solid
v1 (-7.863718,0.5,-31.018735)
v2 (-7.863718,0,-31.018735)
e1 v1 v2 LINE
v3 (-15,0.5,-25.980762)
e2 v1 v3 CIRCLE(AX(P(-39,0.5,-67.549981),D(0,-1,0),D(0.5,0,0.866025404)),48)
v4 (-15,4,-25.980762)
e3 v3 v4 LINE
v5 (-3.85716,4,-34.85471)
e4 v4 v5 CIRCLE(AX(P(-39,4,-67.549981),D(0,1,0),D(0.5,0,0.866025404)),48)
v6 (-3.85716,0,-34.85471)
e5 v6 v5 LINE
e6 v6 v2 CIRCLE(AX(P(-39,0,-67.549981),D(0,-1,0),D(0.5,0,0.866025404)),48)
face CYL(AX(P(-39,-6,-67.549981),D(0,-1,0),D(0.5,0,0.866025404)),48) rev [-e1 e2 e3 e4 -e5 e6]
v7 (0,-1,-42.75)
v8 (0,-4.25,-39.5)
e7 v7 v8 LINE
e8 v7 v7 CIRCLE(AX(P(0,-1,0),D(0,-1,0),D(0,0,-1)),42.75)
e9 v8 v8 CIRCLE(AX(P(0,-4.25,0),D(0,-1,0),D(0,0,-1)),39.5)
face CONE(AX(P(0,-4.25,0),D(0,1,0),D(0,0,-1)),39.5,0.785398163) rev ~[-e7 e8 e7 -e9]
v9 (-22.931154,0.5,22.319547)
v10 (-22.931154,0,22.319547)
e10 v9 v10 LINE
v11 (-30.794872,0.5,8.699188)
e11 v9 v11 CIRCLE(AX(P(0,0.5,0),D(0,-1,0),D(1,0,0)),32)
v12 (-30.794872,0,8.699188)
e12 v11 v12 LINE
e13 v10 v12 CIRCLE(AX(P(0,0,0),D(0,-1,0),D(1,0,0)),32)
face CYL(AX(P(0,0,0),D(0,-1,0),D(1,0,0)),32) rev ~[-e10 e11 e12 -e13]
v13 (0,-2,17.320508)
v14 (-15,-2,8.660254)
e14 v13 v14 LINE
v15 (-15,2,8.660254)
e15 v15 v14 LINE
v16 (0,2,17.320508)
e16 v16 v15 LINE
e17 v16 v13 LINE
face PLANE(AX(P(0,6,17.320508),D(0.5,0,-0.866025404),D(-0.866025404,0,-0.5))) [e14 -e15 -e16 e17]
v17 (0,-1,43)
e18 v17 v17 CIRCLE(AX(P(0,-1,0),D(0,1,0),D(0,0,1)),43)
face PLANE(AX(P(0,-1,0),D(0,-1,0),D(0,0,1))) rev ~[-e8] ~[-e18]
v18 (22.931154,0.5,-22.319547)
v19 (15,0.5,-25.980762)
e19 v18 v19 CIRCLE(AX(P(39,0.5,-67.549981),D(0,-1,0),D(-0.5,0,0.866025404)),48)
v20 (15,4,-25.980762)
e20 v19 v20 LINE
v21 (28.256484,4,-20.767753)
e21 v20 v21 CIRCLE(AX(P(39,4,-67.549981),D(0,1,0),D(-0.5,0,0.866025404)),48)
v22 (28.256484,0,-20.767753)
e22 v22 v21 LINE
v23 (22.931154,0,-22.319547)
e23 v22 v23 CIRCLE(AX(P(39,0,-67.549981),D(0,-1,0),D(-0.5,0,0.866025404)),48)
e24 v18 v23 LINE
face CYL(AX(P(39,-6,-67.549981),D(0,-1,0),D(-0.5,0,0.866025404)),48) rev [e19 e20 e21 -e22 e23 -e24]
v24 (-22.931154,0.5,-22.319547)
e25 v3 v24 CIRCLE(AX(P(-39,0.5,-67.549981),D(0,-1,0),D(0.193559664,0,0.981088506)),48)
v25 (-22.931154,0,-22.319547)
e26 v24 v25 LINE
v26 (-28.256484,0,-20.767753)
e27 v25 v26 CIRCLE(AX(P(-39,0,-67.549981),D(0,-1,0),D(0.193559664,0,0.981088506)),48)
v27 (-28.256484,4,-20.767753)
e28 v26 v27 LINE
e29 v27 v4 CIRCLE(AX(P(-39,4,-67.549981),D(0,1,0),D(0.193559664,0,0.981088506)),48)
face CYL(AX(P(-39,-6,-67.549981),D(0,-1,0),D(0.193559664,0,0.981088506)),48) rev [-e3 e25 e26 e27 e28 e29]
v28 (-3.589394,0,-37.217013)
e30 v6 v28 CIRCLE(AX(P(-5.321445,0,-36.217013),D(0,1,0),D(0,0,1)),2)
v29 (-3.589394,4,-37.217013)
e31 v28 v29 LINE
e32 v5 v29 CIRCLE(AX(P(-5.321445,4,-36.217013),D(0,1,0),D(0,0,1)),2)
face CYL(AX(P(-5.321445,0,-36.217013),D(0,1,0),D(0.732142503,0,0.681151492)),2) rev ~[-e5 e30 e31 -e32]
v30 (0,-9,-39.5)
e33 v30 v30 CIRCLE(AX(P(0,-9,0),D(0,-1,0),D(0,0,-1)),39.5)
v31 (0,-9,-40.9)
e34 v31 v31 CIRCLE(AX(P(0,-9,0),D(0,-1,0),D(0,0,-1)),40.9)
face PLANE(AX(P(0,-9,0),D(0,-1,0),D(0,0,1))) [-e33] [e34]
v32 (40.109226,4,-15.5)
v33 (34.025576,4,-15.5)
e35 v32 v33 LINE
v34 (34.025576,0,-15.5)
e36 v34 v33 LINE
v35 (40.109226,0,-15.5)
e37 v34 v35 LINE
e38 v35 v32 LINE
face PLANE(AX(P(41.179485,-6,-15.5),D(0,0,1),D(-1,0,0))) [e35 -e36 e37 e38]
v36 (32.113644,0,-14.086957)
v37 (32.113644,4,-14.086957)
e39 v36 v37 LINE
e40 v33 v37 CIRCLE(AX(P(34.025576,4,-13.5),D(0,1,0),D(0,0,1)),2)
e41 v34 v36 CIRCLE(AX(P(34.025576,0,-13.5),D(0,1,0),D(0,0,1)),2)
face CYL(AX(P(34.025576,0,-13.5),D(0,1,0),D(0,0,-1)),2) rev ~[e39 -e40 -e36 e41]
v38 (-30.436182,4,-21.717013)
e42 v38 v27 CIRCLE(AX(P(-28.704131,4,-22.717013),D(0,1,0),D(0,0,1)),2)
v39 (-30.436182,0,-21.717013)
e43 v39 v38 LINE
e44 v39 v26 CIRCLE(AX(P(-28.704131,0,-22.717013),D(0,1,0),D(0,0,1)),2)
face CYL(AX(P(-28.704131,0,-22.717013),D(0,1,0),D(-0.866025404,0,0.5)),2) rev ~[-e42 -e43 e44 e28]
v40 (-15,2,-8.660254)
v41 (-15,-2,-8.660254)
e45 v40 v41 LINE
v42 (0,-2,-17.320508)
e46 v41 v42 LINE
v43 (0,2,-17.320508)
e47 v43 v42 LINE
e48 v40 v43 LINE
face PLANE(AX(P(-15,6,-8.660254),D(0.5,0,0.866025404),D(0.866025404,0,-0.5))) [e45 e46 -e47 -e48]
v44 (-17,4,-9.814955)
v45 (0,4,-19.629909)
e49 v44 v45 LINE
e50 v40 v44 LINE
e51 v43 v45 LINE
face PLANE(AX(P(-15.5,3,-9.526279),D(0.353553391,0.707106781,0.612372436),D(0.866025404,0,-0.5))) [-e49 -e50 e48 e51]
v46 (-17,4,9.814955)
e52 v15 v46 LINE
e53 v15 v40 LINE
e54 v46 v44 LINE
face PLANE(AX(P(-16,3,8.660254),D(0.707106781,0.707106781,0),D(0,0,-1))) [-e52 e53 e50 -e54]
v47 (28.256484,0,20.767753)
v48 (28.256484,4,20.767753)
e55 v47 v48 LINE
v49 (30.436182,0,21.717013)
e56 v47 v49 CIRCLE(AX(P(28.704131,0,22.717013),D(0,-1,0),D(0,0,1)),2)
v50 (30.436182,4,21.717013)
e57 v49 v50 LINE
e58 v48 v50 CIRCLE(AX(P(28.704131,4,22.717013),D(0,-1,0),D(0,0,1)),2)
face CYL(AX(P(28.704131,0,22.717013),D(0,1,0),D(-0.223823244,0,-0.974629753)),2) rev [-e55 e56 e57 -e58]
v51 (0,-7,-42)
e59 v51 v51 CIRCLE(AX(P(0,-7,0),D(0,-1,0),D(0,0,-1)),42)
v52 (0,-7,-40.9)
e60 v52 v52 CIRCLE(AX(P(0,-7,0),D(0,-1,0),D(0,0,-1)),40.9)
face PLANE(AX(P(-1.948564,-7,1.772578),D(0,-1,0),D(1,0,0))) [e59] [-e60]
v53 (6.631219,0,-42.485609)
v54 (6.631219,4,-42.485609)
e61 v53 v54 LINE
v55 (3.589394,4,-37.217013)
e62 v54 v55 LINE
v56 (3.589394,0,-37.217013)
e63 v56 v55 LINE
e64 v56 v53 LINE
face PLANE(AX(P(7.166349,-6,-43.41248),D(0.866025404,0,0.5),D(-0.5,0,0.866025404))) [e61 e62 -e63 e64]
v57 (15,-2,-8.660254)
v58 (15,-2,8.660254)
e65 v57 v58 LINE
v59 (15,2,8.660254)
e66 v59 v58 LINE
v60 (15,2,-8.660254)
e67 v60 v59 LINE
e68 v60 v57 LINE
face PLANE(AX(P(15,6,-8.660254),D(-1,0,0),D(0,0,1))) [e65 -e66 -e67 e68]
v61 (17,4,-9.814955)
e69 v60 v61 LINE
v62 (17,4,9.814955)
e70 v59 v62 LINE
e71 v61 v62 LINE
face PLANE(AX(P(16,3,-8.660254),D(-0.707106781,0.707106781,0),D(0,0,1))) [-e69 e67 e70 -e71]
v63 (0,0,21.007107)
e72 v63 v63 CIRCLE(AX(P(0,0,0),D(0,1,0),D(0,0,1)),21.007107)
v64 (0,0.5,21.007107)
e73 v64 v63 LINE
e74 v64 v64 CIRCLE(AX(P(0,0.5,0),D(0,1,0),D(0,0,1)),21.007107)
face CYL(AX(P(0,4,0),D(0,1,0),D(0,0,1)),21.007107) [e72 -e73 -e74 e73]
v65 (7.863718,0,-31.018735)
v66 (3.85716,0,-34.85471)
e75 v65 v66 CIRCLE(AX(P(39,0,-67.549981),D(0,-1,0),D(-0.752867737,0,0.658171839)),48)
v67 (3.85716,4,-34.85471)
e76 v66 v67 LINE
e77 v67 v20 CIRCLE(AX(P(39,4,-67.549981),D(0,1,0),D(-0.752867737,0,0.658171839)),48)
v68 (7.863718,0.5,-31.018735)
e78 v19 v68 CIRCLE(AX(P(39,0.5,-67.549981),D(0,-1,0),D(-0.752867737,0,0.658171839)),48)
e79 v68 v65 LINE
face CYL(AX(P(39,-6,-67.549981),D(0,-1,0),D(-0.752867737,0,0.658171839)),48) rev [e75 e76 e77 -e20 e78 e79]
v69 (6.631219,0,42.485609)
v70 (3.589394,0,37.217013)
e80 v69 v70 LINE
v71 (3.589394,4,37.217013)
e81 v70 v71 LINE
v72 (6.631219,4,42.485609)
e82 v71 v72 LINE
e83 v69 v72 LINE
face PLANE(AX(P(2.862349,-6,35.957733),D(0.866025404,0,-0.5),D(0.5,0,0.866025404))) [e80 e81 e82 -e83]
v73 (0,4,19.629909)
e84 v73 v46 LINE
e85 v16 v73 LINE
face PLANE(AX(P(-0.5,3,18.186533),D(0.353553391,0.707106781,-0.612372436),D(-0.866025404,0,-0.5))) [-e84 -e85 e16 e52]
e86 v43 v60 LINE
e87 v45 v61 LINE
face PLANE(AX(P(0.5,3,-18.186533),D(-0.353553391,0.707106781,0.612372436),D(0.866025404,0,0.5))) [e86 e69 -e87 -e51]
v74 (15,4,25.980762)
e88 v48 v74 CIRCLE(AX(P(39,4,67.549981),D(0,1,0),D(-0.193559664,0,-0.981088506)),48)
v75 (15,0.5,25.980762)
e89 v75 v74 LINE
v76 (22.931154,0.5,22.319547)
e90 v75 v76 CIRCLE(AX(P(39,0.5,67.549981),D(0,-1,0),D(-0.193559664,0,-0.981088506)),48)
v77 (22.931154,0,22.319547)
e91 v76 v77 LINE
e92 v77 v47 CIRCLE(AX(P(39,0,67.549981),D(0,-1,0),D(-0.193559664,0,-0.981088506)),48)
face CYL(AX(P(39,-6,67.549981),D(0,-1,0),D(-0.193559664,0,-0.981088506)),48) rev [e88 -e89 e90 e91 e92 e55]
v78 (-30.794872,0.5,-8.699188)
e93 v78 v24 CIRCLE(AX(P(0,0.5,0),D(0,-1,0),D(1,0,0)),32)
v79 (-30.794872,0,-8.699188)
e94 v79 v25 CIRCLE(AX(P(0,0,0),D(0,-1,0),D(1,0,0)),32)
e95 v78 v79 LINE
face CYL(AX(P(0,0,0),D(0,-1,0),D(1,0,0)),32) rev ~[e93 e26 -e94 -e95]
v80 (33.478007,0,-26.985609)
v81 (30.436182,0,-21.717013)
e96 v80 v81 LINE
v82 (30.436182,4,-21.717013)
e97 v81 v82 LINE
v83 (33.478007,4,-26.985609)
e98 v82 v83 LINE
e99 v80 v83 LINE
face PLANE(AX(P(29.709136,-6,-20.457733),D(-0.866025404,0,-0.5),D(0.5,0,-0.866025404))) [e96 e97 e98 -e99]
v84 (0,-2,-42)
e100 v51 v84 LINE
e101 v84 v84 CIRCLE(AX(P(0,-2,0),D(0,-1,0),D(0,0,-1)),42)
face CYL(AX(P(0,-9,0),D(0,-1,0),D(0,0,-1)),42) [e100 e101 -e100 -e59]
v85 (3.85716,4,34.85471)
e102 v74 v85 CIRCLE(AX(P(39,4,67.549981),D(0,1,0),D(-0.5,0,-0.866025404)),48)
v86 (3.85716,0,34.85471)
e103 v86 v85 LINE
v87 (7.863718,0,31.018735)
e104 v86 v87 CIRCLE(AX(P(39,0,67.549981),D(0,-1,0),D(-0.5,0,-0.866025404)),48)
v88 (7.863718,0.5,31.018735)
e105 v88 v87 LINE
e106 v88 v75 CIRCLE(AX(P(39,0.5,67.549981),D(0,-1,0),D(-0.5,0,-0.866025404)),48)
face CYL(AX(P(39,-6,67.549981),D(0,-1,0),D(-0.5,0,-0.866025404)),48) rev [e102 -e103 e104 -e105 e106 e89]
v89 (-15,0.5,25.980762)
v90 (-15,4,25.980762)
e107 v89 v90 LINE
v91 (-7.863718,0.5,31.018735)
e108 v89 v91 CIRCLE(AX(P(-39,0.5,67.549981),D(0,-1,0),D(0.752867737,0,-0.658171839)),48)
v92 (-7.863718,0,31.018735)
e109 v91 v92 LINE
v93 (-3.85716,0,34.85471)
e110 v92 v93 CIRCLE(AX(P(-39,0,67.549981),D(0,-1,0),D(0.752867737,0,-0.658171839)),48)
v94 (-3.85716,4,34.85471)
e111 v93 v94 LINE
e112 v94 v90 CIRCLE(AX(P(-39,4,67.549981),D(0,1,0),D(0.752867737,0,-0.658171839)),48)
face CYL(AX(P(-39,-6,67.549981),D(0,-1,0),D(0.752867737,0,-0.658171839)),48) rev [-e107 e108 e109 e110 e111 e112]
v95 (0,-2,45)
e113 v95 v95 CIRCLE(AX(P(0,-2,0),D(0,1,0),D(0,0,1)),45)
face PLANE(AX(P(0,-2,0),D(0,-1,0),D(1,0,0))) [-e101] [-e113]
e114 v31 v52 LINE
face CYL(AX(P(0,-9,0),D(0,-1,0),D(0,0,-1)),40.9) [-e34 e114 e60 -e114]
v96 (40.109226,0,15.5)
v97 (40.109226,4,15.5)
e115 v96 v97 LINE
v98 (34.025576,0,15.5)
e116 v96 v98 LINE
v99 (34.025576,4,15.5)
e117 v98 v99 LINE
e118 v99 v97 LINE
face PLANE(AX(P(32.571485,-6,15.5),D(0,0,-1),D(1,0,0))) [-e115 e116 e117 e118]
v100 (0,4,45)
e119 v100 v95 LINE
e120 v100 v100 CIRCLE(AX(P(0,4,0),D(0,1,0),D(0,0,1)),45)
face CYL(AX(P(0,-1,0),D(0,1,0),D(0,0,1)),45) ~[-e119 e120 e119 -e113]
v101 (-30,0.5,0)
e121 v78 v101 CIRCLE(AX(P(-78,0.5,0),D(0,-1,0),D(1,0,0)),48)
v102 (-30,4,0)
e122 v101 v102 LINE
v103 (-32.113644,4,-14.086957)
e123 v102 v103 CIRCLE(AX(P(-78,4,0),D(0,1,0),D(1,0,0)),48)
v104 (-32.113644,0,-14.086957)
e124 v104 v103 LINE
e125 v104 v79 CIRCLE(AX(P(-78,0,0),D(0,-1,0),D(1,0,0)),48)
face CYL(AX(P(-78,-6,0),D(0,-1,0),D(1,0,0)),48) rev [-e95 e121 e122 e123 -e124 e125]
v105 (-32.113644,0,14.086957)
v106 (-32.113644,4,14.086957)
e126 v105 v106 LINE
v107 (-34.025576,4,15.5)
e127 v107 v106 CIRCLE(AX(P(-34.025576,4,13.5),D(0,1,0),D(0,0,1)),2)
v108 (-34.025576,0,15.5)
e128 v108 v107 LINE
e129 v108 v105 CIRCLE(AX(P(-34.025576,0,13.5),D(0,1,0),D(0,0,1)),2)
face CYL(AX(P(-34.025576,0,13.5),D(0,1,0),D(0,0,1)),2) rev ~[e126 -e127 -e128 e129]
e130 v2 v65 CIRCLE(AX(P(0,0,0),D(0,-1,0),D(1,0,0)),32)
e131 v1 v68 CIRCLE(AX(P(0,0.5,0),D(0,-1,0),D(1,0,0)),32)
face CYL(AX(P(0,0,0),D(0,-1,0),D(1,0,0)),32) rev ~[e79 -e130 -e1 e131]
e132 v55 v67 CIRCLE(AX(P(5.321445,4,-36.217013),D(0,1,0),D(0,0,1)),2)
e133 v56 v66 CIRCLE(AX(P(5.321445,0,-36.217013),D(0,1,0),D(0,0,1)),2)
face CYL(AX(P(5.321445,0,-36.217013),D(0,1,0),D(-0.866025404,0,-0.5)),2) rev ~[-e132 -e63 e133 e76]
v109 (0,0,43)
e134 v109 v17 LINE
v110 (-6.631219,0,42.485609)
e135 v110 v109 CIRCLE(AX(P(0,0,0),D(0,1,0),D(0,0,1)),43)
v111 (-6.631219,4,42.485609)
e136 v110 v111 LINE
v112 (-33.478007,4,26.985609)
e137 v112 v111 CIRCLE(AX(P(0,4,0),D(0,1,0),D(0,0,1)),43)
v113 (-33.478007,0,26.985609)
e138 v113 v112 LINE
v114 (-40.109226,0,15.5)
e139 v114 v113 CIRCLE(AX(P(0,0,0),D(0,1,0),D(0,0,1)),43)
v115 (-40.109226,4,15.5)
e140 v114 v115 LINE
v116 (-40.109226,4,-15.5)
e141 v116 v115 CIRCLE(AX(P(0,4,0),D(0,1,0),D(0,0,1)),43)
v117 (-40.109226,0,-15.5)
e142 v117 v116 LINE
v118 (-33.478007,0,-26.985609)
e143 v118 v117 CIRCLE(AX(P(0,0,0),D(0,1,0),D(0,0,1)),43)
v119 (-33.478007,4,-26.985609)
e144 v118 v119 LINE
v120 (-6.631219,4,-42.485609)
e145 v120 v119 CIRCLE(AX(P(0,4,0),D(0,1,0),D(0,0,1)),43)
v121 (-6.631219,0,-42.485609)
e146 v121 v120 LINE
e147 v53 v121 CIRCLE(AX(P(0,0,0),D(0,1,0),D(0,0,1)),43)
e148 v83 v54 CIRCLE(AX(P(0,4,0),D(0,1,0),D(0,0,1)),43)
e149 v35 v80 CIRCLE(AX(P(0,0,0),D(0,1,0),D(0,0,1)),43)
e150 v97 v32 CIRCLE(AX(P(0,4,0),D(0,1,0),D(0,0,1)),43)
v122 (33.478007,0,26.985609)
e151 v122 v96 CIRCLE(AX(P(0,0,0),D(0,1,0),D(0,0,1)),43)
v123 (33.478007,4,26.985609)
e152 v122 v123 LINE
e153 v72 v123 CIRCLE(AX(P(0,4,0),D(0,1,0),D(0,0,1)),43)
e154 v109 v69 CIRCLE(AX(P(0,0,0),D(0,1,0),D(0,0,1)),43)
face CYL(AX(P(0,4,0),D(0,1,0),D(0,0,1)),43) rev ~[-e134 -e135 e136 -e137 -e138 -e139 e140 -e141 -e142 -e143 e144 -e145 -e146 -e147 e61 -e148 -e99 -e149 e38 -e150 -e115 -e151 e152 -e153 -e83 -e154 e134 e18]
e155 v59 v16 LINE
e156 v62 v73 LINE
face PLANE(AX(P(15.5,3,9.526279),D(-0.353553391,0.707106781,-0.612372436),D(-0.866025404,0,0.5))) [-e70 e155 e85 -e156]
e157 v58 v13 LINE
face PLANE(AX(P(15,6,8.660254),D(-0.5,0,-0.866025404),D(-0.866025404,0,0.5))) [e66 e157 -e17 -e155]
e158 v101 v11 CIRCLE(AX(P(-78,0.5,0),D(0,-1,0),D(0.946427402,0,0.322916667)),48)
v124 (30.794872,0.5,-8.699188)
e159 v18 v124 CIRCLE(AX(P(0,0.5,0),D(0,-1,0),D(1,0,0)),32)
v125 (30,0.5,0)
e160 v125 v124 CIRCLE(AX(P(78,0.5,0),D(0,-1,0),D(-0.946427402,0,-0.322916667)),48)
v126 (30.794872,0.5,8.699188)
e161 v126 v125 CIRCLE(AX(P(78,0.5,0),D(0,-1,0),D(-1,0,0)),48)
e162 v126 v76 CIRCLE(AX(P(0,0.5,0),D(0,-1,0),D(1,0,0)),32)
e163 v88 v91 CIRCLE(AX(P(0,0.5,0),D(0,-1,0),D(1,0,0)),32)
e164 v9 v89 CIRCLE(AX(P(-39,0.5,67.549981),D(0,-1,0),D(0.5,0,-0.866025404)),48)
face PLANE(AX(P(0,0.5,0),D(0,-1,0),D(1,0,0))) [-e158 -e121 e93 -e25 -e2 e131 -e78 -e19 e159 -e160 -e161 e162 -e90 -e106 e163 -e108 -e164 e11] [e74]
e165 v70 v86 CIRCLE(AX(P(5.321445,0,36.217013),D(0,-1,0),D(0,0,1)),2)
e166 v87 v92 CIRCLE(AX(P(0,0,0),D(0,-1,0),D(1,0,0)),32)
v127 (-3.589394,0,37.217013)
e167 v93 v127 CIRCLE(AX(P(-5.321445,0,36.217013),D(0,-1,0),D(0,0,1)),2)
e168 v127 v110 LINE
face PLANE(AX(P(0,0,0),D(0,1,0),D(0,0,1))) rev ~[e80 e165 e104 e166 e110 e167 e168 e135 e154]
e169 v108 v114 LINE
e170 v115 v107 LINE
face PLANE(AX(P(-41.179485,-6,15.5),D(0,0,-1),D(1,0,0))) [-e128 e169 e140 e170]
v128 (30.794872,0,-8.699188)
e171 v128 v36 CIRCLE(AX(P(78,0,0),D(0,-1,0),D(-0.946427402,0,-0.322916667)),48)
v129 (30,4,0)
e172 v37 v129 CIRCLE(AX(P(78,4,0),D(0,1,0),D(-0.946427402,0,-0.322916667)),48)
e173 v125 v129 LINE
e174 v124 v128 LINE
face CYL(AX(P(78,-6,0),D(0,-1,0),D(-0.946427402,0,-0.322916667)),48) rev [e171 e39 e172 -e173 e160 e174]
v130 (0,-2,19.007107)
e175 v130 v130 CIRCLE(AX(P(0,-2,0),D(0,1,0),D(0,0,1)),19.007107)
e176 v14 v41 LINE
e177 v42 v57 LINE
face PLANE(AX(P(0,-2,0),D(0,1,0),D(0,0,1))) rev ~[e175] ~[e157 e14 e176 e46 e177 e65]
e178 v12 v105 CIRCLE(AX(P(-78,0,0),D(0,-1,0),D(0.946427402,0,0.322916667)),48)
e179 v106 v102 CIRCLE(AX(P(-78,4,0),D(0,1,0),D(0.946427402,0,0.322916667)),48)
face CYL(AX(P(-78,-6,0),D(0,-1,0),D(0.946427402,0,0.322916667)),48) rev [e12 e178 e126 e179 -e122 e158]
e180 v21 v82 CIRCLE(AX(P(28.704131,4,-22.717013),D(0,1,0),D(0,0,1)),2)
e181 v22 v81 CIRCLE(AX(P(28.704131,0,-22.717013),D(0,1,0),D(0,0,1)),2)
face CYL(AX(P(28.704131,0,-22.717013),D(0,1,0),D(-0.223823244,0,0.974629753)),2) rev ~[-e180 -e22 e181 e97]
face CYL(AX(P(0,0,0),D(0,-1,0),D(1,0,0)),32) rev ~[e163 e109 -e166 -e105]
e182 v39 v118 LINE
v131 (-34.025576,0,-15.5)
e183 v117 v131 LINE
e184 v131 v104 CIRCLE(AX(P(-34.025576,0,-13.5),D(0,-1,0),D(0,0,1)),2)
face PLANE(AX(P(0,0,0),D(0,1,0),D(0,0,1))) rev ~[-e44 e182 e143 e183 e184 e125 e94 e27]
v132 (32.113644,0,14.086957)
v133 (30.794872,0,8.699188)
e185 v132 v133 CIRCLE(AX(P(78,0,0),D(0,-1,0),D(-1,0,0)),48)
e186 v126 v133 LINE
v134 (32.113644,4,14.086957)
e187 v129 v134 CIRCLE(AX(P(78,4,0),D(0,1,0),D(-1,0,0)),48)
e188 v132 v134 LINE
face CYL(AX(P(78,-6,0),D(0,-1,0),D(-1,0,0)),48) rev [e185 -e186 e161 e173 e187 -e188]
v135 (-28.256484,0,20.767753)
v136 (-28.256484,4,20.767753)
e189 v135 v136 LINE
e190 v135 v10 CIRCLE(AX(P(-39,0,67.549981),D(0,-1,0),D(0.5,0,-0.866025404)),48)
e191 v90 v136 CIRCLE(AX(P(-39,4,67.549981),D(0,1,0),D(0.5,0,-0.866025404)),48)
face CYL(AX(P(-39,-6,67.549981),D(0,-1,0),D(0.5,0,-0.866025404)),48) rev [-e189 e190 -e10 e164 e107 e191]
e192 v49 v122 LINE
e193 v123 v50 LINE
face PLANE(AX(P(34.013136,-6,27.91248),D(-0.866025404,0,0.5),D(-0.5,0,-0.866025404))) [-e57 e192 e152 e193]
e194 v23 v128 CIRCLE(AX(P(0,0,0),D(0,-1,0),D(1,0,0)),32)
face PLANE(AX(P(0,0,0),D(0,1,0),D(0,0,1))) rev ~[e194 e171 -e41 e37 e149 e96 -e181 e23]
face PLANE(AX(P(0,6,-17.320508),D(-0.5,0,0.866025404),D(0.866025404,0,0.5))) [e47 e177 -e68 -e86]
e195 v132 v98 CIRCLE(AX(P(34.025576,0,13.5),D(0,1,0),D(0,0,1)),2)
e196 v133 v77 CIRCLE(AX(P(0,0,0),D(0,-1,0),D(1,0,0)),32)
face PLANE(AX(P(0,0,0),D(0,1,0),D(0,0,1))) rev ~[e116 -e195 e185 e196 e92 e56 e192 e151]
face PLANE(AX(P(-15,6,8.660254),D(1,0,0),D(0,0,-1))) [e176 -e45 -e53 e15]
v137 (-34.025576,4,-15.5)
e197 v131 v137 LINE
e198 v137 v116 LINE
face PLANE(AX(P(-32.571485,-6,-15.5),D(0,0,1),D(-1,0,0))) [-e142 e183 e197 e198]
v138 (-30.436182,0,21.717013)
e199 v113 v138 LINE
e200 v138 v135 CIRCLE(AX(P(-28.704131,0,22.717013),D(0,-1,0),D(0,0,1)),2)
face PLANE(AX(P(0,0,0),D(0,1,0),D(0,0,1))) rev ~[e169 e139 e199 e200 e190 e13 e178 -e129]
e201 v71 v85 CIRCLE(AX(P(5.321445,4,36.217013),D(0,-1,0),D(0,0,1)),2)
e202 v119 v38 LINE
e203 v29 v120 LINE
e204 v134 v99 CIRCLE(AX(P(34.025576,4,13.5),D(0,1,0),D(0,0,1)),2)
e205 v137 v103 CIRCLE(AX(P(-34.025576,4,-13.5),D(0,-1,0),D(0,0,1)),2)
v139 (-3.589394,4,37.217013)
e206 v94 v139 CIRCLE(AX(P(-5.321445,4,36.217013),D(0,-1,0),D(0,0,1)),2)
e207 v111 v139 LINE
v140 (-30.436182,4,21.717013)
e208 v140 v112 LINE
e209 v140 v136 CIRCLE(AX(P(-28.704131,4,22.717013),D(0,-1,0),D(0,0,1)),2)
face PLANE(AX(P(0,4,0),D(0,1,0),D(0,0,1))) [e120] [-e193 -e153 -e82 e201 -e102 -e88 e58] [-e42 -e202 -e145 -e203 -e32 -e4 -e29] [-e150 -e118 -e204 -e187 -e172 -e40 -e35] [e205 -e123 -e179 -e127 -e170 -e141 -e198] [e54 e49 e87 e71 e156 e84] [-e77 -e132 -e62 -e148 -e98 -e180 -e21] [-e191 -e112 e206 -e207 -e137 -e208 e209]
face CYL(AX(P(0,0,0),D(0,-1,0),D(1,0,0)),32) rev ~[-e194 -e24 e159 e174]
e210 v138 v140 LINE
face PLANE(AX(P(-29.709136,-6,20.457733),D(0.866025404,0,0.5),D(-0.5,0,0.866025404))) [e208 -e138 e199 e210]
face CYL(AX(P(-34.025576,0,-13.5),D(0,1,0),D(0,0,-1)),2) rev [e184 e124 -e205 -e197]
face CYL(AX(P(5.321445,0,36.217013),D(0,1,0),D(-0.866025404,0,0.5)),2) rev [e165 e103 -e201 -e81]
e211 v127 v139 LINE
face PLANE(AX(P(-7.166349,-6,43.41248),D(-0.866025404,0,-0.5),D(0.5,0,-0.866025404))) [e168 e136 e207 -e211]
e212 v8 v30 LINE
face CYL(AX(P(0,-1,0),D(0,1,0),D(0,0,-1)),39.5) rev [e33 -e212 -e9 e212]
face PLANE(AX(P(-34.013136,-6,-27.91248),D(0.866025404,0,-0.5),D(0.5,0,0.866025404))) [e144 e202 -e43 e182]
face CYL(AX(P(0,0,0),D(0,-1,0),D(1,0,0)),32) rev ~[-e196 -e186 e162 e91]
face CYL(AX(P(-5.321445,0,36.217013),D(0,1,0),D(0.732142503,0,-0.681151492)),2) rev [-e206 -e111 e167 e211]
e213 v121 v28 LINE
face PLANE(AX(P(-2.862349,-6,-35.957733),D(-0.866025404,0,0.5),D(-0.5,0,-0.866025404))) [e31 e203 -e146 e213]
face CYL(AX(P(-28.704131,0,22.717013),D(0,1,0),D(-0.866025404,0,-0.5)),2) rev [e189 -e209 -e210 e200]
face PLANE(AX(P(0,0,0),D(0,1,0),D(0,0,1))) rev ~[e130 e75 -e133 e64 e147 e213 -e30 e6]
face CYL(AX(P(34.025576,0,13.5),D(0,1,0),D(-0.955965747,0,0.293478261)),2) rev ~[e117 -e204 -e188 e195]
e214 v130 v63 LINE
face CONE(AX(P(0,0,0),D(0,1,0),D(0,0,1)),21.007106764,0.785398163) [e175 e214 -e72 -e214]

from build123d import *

# Parameters (mm, degrees)
SKIZZE1_R                             = 44
AUFSATZ_LINEAR_AUSTRAGEN1_DEPTH       = 4
SCHNITT_LINEAR_START                  = -10
SCHNITT_LINEAR_AUSTRAGEN2_DEPTH       = 10
KREISMUSTER1_COUNT                    = 6
SCHNITT_LINEAR_AUSTRAGEN3_DEPTH       = 4
SCHNITT_LINEAR_AUSTRAGEN3_DEPTH_BACK  = 10
VERRUNDUNG1_R                         = 2
SKIZZE7_R                             = 32
SCHNITT_LINEAR_AUSTRAGEN7_DEPTH       = 0.5
SKIZZE8_R                             = 45
SKIZZE8_R_2                           = 43
AUFSATZ_LINEAR_AUSTRAGEN2_DEPTH       = 5
SKIZZE9_R                             = 45
SKIZZE9_R_2                           = 39.5
AUFSATZ_LINEAR_AUSTRAGEN3_DEPTH       = 8
SKIZZE4_R                             = 21.007106764
AUFSATZ_LINEAR_AUSTRAGEN8_DEPTH       = 6
FASE1_SIZE                            = 3.25
SKIZZE10_R                            = 50
SKIZZE10_R_2                          = 42
SCHNITT_LINEAR_AUSTRAGEN9_DEPTH       = 7
SKIZZE11_R                            = 50
SKIZZE11_R_2                          = 40.9
SCHNITT_LINEAR_AUSTRAGEN10_DEPTH      = 2
SCHNITT_LINEAR_AUSTRAGEN11_DEPTH      = 6
SCHNITT_LINEAR_AUSTRAGEN11_DEPTH_BACK = 6
FASE3_SIZE                            = 2
FASE5_SIZE                            = 2


with BuildPart() as part:
    # Skizze1 → Aufsatz-Linear austragen1 (new body)
    with BuildSketch(Plane(origin=(0, 0, 0), x_dir=(1, 0, 0), z_dir=(0, 1, 0))):
        Circle(SKIZZE1_R)
    extrude(amount=AUFSATZ_LINEAR_AUSTRAGEN1_DEPTH)

    # Skizze2 → Schnitt-Linear austragen2 (cut)
    with BuildSketch(Plane(origin=(0, 4, 0), x_dir=(1, 0, 0), z_dir=(0, 1, 0)).offset(SCHNITT_LINEAR_START)):
        with BuildLine():
            ThreePointArc((-30, 0), (-30.647234858, 7.855929826), (-32.571484726, 15.5))
            Line((-32.571484726, 15.5), (-41.179485184, 15.5))
            ThreePointArc((-41.179485184, 15.5), (-44, 0), (-41.179485184, -15.5))
            Line((-41.179485184, -15.5), (-32.571484726, -15.5))
            ThreePointArc((-32.571484726, -15.5), (-30.647234858, -7.855929826), (-30, 0))
        make_face()
    schnitt_linear_austragen2 = extrude(amount=SCHNITT_LINEAR_AUSTRAGEN2_DEPTH, mode=Mode.SUBTRACT)

    # Kreismuster1: Schnitt-Linear austragen2 ×6 about axis
    kreismuster1_axis = Axis((0, 0, 0), (0, 1, 0))
    for i in range(1, KREISMUSTER1_COUNT):
        add(schnitt_linear_austragen2.rotate(kreismuster1_axis, i * 360 / KREISMUSTER1_COUNT), mode=Mode.SUBTRACT)

    # Skizze3 → Schnitt-Linear austragen3 (cut, two sides: drawn at the far end of the back side and taken through both)
    with BuildSketch(Plane.XZ.offset(-SCHNITT_LINEAR_AUSTRAGEN3_DEPTH_BACK)):
        Polygon((15, 8.660254038), (0, 17.320508076), (-15, 8.660254038), (-15, -8.660254038), (0, -17.320508076), (15, -8.660254038), align=None)
    extrude(amount=SCHNITT_LINEAR_AUSTRAGEN3_DEPTH + SCHNITT_LINEAR_AUSTRAGEN3_DEPTH_BACK, mode=Mode.SUBTRACT)

    # Verrundung1
    verrundung1_edges = [part.edges().sort_by_distance(p)[0] for p in [
        (-32.571484726, 2, 15.5),
        (-2.862348604, 2, 35.957733212),
        (2.862348604, 2, 35.957733212),
        (29.709136122, 2, 20.457733212),
        (32.571484726, 2, 15.5),
        (32.571484726, 2, -15.5),
        (29.709136122, 2, -20.457733212),
        (2.862348604, 2, -35.957733212),
        (-2.862348604, 2, -35.957733212),
        (-29.709136122, 2, -20.457733212),
        (-32.571484726, 2, -15.5),
        (-29.709136122, 2, 20.457733212),
    ]]
    fillet(verrundung1_edges, radius=VERRUNDUNG1_R)

    # Skizze7 → Schnitt-Linear austragen7 (cut)
    with BuildSketch(Plane.XZ):
        Circle(SKIZZE7_R)
    extrude(amount=-SCHNITT_LINEAR_AUSTRAGEN7_DEPTH, mode=Mode.SUBTRACT)

    # Skizze8 → Aufsatz-Linear austragen2 (add)
    with BuildSketch(Plane(origin=(0, 4, 0), x_dir=(1, 0, 0), z_dir=(0, 1, 0))):
        Circle(SKIZZE8_R)
        Circle(SKIZZE8_R_2, mode=Mode.SUBTRACT)
    extrude(amount=-AUFSATZ_LINEAR_AUSTRAGEN2_DEPTH)



with BuildPart() as body_2:
    # Skizze9 → Aufsatz-Linear austragen3 (new body)
    with BuildSketch(Plane.XZ.offset(1)):
        Circle(SKIZZE9_R)
        Circle(SKIZZE9_R_2, mode=Mode.SUBTRACT)
    extrude(amount=AUFSATZ_LINEAR_AUSTRAGEN3_DEPTH)


with BuildPart() as part_1:
    add(part.part)

    add(body_2.part)  # Aufsatz-Linear austragen8 merges body 2
    # Skizze4 → Aufsatz-Linear austragen8 (add)
    with BuildSketch(Plane(origin=(0, 4, 0), x_dir=(1, 0, 0), z_dir=(0, 1, 0))):
        Circle(SKIZZE4_R)
    extrude(amount=-AUFSATZ_LINEAR_AUSTRAGEN8_DEPTH)

    # Fase1
    fase1_edges = [part_1.edges().sort_by_distance(p)[0] for p in [
        (-39.5, -1, 0),
    ]]
    chamfer(fase1_edges, length=FASE1_SIZE)

    # Skizze10 → Schnitt-Linear austragen9 (cut)
    with BuildSketch(Plane.XZ.offset(9)):
        Circle(SKIZZE10_R)
        Circle(SKIZZE10_R_2, mode=Mode.SUBTRACT)
    extrude(amount=-SCHNITT_LINEAR_AUSTRAGEN9_DEPTH, mode=Mode.SUBTRACT)

    # Skizze11 → Schnitt-Linear austragen10 (cut)
    with BuildSketch(Plane.XZ.offset(9)):
        with Locations((-1.948563864, 1.772578218)):
            Circle(SKIZZE11_R)
        Circle(SKIZZE11_R_2, mode=Mode.SUBTRACT)
    extrude(amount=-SCHNITT_LINEAR_AUSTRAGEN10_DEPTH, mode=Mode.SUBTRACT)

    # Skizze3<3> → Schnitt-Linear austragen11 (cut, two sides: drawn at the far end of the back side and taken through both)
    with BuildSketch(Plane.XZ.offset(-SCHNITT_LINEAR_AUSTRAGEN11_DEPTH_BACK)):
        Polygon((15, 8.660254038), (0, 17.320508076), (-15, 8.660254038), (-15, -8.660254038), (0, -17.320508076), (15, -8.660254038), align=None)
    extrude(amount=SCHNITT_LINEAR_AUSTRAGEN11_DEPTH + SCHNITT_LINEAR_AUSTRAGEN11_DEPTH_BACK, mode=Mode.SUBTRACT)

    # Fase3
    fase3_edges = [part_1.edges().sort_by_distance(p)[0] for p in [
        (-21.007106764, -2, 0),
    ]]
    chamfer(fase3_edges, length=FASE3_SIZE)

    # Fase5
    fase5_edges = [part_1.edges().sort_by_distance(p)[0] for p in [
        (-7.5, 4, 12.990381057),
        (7.5, 4, 12.990381057),
        (15, 4, 0),
        (7.5, 4, -12.990381057),
        (-7.5, 4, -12.990381057),
        (-15, 4, 0),
    ]]
    chamfer(fase5_edges, length=FASE5_SIZE)


solid = part_1.part
